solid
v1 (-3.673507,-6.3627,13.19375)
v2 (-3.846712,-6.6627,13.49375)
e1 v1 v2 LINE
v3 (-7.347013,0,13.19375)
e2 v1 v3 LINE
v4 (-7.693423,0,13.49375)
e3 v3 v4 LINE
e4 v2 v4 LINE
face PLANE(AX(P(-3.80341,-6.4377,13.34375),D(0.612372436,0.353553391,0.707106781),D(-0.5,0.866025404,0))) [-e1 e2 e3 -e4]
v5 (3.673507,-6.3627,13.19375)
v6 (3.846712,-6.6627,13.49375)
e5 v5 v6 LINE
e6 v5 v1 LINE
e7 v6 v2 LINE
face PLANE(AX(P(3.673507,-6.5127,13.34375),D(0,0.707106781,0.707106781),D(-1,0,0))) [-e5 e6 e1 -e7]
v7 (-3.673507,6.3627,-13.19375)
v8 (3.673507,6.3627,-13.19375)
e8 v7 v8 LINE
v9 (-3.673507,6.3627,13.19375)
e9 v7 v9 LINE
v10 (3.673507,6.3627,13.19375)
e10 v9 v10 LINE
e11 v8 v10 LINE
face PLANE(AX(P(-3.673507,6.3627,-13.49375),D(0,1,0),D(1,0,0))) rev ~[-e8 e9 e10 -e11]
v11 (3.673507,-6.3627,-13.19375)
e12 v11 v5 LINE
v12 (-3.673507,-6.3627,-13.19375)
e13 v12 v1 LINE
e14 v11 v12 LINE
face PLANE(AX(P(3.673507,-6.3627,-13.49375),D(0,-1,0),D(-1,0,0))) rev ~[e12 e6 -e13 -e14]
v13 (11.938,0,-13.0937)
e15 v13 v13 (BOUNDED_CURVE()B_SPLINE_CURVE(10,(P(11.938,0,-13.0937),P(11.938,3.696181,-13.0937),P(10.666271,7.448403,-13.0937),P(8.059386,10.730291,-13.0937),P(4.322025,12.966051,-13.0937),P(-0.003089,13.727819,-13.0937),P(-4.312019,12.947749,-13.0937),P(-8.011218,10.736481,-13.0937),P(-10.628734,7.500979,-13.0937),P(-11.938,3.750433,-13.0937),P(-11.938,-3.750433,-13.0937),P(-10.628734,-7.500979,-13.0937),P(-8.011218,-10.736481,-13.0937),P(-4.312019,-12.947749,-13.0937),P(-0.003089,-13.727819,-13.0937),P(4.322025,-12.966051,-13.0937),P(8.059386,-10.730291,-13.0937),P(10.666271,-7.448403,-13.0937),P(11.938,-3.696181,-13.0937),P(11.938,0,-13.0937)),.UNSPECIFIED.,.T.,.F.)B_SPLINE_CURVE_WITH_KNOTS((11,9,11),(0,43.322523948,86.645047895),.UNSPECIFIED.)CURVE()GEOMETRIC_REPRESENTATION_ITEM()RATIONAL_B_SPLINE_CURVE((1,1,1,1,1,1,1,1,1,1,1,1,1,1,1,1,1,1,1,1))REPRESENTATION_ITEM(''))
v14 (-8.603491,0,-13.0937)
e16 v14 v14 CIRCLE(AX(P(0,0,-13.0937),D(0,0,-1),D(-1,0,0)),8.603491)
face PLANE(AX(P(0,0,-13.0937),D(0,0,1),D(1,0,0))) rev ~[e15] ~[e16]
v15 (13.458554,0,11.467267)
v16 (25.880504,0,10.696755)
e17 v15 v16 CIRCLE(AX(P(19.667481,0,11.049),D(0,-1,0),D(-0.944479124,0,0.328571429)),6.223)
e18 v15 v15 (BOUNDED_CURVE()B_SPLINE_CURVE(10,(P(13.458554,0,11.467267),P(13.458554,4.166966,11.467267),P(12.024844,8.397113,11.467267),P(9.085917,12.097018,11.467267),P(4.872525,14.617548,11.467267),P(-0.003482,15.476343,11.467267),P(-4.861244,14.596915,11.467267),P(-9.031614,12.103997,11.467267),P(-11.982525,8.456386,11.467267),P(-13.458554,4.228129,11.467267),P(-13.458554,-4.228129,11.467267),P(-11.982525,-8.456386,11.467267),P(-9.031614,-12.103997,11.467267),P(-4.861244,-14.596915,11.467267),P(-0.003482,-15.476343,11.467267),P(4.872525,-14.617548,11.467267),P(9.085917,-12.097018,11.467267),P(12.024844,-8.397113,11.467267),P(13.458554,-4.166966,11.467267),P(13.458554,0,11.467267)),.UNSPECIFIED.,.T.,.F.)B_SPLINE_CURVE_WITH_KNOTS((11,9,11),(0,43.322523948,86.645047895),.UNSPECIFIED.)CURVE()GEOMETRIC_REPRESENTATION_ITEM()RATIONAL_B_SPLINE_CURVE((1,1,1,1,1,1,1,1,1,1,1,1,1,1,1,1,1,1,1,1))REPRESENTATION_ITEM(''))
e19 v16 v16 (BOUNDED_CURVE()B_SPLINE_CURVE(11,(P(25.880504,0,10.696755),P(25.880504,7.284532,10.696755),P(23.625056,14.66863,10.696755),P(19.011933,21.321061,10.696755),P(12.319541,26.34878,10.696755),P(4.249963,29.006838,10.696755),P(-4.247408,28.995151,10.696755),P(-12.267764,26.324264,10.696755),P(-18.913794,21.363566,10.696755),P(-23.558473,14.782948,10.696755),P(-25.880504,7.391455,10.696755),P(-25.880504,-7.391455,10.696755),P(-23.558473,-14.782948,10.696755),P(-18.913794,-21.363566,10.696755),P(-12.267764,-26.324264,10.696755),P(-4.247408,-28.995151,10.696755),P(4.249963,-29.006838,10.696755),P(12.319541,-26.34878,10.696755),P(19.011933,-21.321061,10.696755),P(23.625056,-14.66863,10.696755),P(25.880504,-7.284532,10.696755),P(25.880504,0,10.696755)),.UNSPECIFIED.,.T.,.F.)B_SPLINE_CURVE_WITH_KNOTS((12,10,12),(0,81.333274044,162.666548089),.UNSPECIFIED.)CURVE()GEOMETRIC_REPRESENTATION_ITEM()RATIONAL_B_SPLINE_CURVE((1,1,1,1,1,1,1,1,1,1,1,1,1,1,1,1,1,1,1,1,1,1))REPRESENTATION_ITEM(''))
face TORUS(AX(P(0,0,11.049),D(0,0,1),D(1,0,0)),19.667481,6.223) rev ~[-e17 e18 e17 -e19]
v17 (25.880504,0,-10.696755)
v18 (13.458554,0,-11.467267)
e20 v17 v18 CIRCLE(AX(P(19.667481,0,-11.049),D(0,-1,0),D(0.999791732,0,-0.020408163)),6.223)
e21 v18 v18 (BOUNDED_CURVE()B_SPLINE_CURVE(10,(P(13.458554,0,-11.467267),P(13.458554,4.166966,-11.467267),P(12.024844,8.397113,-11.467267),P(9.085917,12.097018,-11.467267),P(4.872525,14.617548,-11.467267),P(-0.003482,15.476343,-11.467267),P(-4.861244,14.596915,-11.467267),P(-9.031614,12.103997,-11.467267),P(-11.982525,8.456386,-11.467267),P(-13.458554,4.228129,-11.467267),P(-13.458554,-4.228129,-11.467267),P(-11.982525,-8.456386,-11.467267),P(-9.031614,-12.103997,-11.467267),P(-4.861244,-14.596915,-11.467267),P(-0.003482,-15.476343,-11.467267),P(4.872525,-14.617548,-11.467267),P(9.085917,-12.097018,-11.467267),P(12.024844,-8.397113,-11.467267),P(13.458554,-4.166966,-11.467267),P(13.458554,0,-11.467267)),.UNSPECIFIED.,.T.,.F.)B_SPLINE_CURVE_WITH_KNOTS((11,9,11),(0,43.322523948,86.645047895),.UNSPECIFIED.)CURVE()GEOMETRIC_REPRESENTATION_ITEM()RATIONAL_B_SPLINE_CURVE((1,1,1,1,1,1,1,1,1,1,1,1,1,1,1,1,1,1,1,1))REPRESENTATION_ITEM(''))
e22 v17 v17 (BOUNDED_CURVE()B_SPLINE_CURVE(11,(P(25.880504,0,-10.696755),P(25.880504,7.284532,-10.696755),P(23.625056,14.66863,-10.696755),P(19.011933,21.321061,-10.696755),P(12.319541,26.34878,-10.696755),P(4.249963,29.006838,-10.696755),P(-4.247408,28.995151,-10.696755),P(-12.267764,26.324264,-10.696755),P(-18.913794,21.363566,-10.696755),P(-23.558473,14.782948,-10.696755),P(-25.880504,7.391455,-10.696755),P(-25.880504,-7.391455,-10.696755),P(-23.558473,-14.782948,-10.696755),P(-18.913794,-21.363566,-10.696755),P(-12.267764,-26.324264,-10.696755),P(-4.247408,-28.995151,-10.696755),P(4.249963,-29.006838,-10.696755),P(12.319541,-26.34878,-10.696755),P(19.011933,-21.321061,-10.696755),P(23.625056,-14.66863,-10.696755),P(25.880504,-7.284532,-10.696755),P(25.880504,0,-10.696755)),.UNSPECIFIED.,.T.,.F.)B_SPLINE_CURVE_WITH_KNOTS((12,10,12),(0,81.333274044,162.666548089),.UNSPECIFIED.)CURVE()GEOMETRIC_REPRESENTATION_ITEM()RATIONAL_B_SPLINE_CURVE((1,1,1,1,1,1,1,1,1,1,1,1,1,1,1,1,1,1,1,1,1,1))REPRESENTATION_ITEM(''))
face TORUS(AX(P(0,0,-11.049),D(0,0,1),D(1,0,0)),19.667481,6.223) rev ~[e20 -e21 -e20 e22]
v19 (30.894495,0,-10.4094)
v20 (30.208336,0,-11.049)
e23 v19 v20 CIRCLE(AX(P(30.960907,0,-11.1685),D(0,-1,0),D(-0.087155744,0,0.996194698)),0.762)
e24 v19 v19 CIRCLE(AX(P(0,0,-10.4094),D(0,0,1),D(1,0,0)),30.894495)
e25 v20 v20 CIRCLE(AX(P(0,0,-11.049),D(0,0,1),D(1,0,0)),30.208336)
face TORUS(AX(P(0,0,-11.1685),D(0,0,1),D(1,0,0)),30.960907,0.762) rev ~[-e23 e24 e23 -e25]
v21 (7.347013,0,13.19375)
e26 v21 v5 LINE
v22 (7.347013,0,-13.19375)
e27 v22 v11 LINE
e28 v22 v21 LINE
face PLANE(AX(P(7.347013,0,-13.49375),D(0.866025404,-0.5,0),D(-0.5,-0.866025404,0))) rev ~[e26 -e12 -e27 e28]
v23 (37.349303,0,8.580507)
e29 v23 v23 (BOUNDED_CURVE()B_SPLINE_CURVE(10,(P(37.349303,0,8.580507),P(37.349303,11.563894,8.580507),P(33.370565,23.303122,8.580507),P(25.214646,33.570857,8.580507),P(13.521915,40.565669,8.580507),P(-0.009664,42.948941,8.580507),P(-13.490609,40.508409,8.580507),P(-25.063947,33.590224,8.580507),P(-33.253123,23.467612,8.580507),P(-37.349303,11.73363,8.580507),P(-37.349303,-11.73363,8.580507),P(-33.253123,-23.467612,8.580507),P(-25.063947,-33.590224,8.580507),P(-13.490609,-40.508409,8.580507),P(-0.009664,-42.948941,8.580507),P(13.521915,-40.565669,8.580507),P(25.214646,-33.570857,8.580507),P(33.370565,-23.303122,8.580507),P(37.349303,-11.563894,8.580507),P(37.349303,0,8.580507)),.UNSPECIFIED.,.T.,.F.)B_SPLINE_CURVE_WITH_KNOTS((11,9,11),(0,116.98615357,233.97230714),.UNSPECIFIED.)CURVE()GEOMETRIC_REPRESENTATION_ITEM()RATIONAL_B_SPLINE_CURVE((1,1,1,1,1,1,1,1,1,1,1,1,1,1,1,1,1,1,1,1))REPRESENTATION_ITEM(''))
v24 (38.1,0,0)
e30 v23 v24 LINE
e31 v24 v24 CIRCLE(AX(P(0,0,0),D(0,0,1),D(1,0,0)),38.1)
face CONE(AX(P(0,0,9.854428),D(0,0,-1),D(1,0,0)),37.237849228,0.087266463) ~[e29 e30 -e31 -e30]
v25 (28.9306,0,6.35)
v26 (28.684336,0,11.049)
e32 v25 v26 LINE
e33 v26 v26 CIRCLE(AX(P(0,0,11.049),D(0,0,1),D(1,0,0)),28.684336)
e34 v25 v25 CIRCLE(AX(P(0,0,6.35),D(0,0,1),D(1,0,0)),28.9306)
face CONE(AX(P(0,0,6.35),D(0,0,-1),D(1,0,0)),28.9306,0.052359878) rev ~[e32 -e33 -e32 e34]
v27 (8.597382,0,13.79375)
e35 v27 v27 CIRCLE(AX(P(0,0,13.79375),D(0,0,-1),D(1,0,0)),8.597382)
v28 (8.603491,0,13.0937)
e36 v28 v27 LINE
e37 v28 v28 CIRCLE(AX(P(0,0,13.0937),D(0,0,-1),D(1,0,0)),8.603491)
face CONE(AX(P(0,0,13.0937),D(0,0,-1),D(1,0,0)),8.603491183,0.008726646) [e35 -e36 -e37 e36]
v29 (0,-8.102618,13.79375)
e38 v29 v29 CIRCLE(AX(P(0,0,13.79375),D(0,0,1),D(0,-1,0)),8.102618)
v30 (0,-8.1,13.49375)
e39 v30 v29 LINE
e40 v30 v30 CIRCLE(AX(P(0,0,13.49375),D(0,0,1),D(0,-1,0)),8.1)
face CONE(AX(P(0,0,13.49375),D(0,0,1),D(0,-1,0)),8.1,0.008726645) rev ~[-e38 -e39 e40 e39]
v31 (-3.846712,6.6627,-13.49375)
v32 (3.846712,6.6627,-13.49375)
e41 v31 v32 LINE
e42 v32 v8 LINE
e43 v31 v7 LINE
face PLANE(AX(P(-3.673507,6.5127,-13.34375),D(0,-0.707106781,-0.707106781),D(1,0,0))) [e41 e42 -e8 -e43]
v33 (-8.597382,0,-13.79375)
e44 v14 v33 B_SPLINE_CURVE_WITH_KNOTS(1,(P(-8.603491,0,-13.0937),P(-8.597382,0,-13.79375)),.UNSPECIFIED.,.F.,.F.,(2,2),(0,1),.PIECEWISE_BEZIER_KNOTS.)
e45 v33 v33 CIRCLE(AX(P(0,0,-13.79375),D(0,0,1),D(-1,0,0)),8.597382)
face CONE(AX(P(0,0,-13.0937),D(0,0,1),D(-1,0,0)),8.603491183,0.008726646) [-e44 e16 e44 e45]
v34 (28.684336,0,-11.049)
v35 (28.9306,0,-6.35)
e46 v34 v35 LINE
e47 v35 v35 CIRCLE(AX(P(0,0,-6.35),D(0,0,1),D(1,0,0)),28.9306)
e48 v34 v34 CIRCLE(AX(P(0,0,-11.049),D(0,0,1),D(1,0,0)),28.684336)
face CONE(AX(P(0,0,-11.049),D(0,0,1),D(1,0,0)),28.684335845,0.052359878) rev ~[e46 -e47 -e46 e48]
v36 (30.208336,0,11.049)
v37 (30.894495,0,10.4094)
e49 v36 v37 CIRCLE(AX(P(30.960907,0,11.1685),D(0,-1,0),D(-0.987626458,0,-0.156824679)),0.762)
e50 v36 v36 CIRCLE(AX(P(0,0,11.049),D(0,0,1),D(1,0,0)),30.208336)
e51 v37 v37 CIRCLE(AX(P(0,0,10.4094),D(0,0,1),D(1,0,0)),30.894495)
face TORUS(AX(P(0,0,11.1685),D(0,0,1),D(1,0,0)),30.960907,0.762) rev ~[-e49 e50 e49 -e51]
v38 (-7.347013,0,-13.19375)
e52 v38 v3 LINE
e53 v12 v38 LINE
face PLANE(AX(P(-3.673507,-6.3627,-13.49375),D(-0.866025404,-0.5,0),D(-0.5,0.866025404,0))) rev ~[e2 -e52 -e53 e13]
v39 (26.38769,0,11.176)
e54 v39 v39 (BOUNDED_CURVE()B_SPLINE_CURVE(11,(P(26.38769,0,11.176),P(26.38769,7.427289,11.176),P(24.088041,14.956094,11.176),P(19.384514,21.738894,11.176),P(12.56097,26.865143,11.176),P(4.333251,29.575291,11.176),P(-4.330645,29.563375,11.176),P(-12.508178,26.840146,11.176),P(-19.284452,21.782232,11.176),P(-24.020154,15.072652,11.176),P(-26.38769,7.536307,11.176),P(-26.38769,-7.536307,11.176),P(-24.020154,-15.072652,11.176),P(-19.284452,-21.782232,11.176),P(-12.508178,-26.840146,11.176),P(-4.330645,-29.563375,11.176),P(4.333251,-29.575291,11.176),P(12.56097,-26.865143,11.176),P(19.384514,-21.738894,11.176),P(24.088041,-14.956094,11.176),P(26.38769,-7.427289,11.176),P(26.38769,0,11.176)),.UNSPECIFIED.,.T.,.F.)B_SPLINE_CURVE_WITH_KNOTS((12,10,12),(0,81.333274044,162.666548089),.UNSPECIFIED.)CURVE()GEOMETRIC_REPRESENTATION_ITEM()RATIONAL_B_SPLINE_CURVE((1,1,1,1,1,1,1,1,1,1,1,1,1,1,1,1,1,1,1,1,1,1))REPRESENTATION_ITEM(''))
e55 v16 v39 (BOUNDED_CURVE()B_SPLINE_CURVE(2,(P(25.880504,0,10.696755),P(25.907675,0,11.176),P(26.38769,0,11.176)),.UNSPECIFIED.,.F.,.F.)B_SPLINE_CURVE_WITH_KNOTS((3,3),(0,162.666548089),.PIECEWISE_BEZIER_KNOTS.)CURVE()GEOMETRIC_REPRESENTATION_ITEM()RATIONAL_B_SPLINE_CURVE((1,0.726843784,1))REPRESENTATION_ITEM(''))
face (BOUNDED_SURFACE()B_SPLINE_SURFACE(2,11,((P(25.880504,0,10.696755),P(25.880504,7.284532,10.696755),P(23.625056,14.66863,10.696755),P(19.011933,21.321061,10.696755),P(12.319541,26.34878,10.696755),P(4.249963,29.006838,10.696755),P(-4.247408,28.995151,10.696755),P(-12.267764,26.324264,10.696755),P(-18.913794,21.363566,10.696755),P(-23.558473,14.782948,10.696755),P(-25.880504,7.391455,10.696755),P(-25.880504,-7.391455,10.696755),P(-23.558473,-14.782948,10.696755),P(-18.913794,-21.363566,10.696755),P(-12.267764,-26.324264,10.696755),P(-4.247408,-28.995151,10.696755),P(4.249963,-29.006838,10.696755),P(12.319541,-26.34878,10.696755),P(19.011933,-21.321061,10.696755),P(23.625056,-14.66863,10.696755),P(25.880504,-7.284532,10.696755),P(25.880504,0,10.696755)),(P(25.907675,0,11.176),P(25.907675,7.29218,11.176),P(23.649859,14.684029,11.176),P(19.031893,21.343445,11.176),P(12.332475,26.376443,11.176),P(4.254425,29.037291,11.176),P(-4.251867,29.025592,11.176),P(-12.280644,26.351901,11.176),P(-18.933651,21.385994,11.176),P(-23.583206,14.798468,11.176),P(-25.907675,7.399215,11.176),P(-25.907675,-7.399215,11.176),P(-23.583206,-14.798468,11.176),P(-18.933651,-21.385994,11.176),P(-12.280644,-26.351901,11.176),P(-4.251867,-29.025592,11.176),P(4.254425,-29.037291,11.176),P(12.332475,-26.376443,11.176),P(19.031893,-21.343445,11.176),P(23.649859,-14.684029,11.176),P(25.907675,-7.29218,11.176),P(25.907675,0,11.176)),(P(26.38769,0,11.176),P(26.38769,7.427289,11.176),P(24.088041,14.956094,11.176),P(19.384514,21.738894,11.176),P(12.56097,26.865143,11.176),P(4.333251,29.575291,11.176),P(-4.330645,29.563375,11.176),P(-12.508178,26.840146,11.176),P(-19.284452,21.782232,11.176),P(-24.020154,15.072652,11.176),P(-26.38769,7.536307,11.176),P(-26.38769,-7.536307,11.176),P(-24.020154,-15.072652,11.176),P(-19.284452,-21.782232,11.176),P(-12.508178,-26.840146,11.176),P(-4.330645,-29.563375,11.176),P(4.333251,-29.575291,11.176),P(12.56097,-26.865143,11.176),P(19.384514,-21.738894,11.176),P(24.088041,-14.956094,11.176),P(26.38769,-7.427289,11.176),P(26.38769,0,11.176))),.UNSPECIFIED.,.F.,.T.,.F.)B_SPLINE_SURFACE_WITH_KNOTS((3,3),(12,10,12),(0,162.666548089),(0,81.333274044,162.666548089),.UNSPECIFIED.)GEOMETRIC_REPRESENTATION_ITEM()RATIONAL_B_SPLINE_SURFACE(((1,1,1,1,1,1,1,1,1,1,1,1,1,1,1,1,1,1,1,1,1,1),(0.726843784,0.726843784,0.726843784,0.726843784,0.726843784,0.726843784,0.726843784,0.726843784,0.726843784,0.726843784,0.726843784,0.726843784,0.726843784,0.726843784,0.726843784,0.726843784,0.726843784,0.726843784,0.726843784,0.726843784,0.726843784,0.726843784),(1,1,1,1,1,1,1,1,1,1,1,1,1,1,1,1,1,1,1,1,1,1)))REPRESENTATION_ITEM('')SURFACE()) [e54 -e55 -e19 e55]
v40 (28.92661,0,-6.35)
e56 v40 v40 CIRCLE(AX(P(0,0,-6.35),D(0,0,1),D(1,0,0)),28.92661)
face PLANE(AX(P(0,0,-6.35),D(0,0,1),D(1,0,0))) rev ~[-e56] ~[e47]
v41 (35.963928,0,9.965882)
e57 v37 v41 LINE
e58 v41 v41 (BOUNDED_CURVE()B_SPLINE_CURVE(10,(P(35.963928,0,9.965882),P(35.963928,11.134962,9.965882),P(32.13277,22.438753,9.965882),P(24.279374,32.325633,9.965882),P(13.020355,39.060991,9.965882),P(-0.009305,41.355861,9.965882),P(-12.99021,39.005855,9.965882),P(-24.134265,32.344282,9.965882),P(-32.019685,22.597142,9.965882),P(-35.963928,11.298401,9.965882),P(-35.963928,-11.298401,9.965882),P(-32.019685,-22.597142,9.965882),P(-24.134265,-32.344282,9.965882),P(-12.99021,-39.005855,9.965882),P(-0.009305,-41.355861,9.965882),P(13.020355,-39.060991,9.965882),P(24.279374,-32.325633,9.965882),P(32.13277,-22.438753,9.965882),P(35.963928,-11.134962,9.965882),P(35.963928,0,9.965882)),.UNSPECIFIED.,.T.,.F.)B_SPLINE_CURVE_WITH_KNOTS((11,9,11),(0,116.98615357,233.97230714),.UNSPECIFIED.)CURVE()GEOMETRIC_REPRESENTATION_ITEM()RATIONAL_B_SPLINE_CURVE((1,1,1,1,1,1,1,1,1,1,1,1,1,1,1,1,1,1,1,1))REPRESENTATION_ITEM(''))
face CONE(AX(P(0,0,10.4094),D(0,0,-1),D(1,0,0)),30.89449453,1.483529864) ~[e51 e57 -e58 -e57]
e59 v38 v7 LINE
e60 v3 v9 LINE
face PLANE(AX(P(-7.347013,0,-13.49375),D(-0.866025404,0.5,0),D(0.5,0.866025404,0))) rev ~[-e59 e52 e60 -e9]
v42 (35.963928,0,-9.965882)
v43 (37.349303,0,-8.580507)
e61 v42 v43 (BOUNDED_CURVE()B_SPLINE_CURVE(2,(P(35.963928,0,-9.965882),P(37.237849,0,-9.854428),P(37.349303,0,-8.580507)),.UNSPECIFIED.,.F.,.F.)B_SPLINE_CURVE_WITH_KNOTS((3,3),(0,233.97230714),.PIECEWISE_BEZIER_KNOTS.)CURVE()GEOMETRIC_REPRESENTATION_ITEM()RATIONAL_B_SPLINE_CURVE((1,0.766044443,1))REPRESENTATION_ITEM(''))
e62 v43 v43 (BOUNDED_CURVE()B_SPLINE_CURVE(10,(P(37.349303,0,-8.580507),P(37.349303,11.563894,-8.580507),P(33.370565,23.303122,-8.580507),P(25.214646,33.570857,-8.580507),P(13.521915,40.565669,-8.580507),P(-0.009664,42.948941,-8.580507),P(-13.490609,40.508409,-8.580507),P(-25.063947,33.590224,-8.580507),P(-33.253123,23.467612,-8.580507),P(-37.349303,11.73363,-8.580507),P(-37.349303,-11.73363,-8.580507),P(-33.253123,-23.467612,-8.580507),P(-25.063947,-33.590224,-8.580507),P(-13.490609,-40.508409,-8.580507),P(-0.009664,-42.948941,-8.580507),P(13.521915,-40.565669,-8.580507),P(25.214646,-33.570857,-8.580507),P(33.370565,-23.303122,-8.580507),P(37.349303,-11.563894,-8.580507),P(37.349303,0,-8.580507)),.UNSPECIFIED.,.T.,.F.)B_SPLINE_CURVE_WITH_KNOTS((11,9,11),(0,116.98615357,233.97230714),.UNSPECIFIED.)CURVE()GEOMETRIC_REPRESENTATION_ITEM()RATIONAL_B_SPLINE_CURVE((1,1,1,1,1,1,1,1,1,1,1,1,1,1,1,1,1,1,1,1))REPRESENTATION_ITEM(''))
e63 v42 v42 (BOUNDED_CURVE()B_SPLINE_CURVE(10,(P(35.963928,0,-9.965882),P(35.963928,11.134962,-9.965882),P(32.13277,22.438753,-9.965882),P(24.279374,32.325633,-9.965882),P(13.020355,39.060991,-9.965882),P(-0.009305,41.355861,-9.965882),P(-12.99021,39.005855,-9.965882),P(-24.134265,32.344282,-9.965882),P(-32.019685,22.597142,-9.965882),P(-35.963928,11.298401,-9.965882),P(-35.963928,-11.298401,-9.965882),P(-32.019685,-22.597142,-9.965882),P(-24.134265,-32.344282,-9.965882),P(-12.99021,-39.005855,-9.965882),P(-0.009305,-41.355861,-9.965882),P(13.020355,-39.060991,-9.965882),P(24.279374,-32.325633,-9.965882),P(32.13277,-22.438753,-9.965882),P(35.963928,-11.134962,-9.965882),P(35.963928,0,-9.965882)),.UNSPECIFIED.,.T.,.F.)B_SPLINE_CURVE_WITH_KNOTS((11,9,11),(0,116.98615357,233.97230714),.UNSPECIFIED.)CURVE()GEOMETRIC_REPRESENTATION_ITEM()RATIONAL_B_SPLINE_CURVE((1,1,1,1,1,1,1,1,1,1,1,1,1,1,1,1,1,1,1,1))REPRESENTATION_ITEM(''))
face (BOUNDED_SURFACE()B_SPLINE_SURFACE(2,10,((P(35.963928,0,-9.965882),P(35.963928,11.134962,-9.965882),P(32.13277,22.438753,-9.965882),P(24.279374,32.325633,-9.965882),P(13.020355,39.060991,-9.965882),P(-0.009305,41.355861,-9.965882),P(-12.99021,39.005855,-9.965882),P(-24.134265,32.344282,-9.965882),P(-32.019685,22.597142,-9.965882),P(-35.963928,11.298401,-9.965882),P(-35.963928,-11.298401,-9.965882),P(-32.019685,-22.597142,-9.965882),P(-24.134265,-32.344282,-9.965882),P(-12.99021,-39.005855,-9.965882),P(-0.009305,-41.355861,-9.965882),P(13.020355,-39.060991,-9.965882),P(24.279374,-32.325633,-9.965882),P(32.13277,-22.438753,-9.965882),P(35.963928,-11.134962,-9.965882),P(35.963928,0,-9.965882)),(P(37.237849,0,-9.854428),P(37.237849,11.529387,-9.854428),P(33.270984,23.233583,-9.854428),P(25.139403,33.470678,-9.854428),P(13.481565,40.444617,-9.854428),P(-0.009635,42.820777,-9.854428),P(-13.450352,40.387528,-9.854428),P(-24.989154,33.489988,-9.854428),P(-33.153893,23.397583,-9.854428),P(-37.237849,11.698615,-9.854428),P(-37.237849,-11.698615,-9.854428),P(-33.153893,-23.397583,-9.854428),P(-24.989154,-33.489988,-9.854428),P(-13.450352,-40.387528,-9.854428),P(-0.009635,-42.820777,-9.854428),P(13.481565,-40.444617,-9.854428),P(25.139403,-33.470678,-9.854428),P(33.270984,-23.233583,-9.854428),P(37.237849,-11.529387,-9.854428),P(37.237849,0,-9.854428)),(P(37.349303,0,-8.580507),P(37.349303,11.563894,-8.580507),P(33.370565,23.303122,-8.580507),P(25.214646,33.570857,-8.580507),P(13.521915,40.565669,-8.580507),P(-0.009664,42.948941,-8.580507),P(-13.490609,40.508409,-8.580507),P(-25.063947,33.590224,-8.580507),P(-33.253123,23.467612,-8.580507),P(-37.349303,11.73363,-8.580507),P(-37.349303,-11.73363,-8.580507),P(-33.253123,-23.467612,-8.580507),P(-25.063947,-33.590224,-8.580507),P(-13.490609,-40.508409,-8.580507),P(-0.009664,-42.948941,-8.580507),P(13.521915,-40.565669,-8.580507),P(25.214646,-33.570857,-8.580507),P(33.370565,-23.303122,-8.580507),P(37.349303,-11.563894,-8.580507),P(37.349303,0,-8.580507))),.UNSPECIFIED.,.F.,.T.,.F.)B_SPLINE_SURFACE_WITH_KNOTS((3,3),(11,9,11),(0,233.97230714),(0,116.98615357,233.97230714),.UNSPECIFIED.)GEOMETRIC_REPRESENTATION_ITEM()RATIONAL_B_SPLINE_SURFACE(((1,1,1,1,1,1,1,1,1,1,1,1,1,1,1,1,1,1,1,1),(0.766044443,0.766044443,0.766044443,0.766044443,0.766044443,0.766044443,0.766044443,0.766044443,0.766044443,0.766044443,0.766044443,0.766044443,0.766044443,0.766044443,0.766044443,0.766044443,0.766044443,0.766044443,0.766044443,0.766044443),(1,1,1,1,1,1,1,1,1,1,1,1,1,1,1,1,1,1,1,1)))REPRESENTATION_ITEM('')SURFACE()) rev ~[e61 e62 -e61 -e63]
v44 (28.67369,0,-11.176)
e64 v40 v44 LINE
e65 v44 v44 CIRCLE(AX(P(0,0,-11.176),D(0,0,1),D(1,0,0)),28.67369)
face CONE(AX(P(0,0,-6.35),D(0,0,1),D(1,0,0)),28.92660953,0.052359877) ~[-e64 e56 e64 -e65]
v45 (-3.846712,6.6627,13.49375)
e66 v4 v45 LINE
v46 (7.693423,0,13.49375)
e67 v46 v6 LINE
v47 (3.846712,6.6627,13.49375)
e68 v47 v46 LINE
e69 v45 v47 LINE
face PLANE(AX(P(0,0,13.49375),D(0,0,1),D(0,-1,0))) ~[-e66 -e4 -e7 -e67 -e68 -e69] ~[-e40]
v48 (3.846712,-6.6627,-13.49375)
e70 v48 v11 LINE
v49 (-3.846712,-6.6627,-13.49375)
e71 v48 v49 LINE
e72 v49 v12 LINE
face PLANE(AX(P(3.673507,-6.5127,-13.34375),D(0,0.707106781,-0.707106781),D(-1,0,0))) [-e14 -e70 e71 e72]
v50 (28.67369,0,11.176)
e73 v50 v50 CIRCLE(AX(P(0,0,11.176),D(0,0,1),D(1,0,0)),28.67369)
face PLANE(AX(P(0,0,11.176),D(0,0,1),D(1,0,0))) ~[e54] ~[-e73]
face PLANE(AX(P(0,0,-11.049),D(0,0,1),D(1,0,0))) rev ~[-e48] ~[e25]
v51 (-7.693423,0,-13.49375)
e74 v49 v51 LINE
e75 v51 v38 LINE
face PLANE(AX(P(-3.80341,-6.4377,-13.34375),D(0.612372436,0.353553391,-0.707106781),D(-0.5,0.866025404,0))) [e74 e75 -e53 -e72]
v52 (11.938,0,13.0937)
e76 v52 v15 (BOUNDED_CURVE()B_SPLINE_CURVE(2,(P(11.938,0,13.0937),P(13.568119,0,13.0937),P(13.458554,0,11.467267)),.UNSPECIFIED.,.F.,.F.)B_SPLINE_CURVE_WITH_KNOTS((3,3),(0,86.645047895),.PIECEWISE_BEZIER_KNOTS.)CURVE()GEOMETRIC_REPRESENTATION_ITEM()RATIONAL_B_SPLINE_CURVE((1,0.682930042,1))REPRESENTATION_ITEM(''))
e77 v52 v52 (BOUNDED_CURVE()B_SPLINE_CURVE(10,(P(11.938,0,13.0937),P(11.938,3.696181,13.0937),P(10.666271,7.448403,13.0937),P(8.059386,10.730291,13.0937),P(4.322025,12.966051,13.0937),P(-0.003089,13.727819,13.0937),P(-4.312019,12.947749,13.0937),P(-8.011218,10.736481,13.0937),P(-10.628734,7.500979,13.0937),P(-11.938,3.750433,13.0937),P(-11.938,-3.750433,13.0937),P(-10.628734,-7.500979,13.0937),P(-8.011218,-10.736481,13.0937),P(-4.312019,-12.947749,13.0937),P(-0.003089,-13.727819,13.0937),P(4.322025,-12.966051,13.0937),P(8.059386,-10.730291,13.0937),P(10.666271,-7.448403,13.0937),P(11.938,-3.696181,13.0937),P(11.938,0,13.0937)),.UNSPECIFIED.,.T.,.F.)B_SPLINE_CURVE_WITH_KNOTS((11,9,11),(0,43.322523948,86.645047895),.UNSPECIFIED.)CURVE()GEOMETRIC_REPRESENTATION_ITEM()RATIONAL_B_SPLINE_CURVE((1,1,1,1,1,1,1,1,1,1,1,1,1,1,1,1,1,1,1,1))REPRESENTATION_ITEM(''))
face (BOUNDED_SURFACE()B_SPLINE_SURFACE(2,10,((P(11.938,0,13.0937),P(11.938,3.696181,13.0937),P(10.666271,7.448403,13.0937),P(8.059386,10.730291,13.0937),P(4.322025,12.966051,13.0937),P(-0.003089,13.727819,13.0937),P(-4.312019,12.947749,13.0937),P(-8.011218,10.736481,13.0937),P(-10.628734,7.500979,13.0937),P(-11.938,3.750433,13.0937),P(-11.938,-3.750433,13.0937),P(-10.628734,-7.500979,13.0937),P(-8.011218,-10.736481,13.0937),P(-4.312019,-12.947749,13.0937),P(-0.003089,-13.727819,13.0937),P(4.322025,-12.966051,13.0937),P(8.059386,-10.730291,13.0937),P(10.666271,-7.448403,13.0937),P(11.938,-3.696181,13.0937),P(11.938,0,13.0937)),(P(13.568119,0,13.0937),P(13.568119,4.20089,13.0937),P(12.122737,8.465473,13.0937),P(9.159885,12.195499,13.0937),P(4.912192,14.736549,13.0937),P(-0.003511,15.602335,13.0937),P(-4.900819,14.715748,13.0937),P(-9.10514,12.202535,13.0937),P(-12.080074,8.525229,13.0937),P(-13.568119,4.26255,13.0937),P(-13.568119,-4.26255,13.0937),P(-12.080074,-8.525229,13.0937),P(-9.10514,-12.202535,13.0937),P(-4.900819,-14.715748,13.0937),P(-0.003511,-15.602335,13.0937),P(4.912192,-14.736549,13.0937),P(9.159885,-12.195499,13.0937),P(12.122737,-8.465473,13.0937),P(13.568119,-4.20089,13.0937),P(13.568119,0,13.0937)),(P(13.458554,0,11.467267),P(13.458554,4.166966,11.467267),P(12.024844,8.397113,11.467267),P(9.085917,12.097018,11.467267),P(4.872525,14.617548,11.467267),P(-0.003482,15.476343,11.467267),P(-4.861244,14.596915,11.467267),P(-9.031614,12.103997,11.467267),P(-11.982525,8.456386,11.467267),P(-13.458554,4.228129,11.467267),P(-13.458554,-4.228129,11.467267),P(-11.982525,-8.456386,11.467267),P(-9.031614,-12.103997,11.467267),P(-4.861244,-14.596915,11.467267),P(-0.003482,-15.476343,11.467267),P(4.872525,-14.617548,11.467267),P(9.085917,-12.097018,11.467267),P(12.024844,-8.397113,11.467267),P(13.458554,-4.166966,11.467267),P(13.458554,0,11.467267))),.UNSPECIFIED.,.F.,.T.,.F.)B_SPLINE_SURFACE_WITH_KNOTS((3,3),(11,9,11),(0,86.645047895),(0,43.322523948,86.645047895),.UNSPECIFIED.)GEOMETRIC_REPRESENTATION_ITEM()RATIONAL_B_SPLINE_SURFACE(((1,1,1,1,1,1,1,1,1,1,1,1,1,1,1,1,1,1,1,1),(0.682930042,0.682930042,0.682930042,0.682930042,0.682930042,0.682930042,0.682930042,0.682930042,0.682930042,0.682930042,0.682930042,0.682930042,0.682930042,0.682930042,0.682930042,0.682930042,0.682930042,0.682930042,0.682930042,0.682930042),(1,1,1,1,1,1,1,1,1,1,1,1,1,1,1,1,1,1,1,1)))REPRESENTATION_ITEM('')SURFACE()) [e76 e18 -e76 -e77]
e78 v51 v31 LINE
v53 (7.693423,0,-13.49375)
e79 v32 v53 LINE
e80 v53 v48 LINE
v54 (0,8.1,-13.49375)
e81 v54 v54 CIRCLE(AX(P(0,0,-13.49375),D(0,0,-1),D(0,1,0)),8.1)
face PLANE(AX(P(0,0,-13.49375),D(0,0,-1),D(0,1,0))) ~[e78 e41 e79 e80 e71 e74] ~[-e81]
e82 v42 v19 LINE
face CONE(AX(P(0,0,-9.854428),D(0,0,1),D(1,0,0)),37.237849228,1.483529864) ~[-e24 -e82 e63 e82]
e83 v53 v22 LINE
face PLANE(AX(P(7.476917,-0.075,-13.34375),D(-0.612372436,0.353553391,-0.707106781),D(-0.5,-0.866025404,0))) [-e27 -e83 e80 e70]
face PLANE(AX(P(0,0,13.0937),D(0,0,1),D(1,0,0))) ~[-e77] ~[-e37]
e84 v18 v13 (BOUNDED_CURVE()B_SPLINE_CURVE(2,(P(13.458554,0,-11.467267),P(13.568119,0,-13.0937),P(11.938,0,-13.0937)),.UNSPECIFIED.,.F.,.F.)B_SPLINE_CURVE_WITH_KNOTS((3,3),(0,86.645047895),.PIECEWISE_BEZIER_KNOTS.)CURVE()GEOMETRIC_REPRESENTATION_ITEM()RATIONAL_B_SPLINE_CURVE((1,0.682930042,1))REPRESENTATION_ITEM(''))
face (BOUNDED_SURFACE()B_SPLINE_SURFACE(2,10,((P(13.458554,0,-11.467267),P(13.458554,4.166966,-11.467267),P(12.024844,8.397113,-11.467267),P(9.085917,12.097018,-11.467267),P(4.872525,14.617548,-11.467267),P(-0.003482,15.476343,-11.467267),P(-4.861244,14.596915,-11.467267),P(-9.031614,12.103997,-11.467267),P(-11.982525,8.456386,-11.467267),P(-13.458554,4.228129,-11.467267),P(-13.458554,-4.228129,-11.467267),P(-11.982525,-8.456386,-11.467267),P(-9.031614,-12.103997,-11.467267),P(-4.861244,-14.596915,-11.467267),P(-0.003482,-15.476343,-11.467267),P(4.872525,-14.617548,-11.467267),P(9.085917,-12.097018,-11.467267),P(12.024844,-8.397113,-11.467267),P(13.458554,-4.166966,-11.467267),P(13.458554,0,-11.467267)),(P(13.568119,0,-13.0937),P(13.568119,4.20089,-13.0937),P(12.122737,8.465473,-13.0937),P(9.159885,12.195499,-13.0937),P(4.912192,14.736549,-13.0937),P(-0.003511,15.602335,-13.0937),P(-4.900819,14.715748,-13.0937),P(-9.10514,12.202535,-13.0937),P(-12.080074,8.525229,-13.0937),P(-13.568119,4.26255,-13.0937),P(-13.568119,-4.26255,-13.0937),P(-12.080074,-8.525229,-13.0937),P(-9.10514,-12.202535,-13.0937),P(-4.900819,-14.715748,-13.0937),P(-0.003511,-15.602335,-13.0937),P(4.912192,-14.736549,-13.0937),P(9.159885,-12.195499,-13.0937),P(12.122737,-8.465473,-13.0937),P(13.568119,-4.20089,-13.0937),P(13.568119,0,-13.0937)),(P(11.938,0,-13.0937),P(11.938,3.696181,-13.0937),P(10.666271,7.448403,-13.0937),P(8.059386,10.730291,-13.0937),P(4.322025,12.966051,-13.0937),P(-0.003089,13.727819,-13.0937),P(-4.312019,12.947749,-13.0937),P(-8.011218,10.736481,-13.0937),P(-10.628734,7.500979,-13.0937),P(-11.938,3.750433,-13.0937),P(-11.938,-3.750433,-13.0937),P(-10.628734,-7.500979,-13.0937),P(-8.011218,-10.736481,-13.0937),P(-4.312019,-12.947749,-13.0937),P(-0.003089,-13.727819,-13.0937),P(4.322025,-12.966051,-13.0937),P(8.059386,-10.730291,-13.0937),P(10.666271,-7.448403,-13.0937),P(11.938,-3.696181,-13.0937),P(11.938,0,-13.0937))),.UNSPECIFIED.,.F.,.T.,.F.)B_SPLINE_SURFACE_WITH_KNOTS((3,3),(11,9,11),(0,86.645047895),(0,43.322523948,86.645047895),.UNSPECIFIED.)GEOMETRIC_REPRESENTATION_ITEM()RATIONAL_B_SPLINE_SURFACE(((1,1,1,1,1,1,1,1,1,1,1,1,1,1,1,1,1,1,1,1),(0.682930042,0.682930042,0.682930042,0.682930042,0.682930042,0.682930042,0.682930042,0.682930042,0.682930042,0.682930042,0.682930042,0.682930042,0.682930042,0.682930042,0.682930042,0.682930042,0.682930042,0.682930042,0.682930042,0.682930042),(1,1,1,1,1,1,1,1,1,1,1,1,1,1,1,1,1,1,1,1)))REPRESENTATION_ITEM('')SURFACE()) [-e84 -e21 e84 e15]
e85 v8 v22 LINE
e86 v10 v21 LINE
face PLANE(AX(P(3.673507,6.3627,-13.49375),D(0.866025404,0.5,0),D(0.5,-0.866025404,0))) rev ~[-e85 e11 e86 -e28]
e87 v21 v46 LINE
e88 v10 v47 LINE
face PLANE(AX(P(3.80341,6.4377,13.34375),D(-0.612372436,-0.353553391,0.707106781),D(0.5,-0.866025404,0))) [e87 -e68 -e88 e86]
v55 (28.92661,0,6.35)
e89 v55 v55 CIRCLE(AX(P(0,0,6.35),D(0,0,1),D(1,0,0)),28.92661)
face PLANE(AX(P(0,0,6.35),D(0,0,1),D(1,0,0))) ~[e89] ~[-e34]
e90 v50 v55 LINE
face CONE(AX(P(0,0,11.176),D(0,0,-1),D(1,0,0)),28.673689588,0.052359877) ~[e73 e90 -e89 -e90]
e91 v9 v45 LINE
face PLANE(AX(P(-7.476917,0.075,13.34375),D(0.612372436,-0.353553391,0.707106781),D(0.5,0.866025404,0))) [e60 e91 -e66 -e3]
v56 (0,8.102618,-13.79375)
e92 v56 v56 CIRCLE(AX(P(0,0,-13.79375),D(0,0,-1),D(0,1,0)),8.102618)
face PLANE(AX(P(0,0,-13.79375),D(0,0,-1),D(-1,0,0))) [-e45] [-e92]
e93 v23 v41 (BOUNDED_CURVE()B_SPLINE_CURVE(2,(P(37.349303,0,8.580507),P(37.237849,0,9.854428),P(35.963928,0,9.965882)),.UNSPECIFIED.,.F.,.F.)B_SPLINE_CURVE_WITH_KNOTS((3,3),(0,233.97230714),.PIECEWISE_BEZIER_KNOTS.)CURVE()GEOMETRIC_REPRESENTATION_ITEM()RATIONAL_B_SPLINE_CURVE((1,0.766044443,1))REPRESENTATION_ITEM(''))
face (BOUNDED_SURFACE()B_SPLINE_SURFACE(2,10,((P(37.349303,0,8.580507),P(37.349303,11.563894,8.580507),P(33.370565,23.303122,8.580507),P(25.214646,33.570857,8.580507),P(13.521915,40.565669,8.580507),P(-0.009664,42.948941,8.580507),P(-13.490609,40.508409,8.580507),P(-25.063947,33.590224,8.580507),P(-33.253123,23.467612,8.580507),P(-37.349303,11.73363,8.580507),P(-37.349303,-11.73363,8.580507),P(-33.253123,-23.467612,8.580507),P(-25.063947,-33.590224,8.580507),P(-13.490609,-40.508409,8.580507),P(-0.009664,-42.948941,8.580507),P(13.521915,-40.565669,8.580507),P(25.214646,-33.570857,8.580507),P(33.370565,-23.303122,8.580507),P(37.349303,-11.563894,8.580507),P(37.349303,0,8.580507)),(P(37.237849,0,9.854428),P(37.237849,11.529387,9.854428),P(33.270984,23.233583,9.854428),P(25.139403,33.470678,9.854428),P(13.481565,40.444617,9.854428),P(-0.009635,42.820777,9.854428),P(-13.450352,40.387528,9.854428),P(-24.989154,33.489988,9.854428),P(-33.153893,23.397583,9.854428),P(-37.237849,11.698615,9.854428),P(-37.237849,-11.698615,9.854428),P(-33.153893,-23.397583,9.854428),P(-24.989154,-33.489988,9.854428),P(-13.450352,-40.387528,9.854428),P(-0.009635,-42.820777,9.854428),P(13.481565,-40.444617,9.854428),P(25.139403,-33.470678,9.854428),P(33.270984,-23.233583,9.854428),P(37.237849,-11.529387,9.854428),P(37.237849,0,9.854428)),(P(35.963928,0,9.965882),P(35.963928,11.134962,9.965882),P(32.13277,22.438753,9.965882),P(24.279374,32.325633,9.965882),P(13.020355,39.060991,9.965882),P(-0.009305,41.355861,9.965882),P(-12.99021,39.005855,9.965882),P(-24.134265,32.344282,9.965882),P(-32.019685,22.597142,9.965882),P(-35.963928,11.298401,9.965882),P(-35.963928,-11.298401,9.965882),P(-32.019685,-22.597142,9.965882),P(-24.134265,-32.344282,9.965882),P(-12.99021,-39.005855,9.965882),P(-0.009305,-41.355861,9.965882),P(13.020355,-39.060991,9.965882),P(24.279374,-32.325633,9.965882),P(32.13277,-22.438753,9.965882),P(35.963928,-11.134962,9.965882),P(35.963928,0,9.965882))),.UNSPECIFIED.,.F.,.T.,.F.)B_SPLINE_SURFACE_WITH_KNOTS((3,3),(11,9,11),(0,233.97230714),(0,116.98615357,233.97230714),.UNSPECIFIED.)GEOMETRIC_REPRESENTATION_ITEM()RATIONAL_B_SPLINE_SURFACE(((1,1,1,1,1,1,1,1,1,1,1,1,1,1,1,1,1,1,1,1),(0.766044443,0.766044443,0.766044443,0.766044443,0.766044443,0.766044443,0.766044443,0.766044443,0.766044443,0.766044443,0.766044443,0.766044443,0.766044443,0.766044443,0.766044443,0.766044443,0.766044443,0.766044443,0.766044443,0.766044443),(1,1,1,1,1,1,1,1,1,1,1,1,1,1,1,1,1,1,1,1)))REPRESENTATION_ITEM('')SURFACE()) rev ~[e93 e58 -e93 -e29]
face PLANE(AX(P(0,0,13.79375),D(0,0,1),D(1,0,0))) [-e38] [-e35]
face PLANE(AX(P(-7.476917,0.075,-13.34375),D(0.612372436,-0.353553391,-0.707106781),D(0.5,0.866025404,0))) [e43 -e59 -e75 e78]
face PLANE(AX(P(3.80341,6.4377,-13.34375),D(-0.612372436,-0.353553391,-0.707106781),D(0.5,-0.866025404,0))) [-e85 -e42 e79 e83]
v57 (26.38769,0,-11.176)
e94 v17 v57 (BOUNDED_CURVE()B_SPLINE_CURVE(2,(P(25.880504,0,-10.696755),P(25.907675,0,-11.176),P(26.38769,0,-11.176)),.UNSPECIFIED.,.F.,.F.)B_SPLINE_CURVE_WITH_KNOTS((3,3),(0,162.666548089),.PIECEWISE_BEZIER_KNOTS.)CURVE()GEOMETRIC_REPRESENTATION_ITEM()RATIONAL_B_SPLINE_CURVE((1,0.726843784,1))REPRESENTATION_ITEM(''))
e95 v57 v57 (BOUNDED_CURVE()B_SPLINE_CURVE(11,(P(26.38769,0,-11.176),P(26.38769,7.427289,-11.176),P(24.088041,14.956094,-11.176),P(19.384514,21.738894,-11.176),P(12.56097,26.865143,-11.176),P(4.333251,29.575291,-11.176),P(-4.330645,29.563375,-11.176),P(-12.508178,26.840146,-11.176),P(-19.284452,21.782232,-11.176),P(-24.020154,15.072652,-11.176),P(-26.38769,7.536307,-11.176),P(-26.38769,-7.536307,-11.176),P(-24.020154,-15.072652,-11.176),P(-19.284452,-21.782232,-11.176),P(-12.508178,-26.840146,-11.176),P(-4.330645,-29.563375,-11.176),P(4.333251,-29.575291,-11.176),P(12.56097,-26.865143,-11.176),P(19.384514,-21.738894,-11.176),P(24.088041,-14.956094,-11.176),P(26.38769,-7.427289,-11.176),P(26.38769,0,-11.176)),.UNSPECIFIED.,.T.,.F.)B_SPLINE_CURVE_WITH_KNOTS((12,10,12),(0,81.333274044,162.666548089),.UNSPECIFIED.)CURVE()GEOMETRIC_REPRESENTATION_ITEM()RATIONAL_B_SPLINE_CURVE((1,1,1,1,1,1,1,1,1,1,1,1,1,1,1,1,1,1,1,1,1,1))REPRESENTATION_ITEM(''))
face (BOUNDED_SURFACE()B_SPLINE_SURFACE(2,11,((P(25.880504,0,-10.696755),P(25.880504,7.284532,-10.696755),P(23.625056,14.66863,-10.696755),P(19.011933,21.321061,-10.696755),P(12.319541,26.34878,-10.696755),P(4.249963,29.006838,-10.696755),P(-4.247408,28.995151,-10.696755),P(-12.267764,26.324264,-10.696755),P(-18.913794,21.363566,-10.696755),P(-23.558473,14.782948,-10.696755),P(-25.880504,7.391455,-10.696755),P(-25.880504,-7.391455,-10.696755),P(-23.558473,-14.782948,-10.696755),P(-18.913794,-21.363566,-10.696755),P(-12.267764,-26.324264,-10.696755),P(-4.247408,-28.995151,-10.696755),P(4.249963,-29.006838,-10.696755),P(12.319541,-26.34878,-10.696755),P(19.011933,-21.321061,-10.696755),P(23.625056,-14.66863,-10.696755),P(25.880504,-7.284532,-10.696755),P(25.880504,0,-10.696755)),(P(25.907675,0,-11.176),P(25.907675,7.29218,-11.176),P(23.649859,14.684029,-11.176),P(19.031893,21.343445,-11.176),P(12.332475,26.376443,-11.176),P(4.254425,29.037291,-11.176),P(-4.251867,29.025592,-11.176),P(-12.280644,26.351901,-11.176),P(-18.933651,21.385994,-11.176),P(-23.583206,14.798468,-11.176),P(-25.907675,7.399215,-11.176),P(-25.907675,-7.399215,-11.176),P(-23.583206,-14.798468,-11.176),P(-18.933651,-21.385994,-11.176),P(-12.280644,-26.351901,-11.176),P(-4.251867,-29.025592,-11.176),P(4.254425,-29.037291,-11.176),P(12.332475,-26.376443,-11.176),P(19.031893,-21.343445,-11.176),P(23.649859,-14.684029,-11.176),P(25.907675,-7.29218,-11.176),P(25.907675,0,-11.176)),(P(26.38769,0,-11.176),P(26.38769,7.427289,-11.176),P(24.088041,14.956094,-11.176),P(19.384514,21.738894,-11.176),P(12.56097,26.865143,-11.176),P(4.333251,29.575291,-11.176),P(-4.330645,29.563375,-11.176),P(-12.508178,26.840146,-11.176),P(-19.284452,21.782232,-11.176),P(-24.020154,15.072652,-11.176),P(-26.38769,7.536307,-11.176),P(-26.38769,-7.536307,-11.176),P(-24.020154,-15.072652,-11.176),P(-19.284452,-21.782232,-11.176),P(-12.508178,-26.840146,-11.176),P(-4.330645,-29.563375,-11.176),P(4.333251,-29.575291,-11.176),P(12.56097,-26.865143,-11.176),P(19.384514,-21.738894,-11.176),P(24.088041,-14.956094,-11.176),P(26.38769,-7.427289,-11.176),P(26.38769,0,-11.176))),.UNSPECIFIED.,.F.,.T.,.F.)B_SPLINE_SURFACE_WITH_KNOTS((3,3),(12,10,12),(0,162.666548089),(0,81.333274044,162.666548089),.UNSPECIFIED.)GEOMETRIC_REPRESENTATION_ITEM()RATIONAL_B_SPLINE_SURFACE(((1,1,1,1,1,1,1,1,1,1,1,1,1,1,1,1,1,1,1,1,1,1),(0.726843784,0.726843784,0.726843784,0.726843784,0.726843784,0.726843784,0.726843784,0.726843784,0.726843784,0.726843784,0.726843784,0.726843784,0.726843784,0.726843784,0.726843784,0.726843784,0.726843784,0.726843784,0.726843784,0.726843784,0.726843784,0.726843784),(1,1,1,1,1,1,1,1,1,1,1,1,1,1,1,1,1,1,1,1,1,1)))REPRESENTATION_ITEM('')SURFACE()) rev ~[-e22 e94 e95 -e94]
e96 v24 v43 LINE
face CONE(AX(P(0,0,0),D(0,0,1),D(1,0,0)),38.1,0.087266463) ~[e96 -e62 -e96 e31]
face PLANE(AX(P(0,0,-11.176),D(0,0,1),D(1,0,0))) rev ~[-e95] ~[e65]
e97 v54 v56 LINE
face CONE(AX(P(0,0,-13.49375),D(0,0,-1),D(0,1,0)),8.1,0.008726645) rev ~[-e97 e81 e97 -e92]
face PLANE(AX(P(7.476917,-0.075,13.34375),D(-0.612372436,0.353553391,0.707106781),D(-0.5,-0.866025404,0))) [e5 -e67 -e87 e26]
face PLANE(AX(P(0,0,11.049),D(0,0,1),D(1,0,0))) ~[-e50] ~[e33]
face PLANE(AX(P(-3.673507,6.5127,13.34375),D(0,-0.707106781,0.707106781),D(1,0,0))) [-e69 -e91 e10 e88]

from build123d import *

# Parameters (mm, degrees)
SKETCH2_R           = 8.603491183
BOSS_EXTRUDE1_DEPTH = 0.70005
BOSS_EXTRUDE1_TAPER = 0.5
SKETCH3_R           = 8.603491183
BOSS_EXTRUDE2_DEPTH = 0.70005
BOSS_EXTRUDE2_TAPER = 0.5
CUT_EXTRUDE1_DEPTH  = 61.397248747
CHAMFER1_SIZE       = 0.3
FILLET1_R           = 0.508
FILLET2_R           = 1.524


with BuildPart() as part:
    # Sketch1 → Revolve1 (revolve)
    with BuildSketch(Plane(origin=(0, 0, 0), x_dir=(1, 0, 0), z_dir=(0, 1, 0))):
        with BuildLine():
            Line((13.789987667, 13.0937), (0, 13.0937))
            Line((0, 13.0937), (0, -13.0937))
            Line((0, -13.0937), (13.789987667, -13.0937))
            ThreePointArc((13.789987667, -13.0937), (18.693308011, -4.902723445), (25.889185204, -11.176))
            Line((25.889185204, -11.176), (28.673689588, -11.176))
            Line((28.673689588, -11.176), (28.92660953, -6.35))
            Line((28.92660953, -6.35), (28.9306, -6.35))
            Line((28.9306, -6.35), (28.684335845, -11.049))
            Line((28.684335845, -11.049), (30.208335845, -11.049))
            ThreePointArc((30.208335845, -11.049), (30.441334556, -10.611106234), (30.89449453, -10.409400044))
            Line((30.89449453, -10.409400044), (37.237849228, -9.854428419))
            Line((37.237849228, -9.854428419), (38.1, 0))
            Line((38.1, 0), (37.237849228, 9.854428419))
            Line((37.237849228, 9.854428419), (30.89449453, 10.409400044))
            ThreePointArc((30.89449453, 10.409400044), (30.441334556, 10.611106234), (30.208335845, 11.049))
            Line((30.208335845, 11.049), (28.684335845, 11.049))
            Line((28.684335845, 11.049), (28.9306, 6.35))
            Line((28.9306, 6.35), (28.92660953, 6.35))
            Line((28.92660953, 6.35), (28.673689588, 11.176))
            Line((28.673689588, 11.176), (25.889185204, 11.176))
            ThreePointArc((25.889185204, 11.176), (18.693308011, 4.902723445), (13.789987667, 13.0937))
        make_face()
    revolve(axis=Axis((0, 0, -13.0937), (0, 0, 1)))

    # Sketch2 → Boss-Extrude1 (add)
    with BuildSketch(Plane.XY.offset(13.0937)):
        Circle(SKETCH2_R)
    extrude(amount=BOSS_EXTRUDE1_DEPTH, taper=BOSS_EXTRUDE1_TAPER)

    # Sketch3 → Boss-Extrude2 (add)
    with BuildSketch(Plane(origin=(0, 0, -13.0937), x_dir=(-1, 0, 0), z_dir=(0, 0, -1))):
        Circle(SKETCH3_R)
    extrude(amount=BOSS_EXTRUDE2_DEPTH, taper=BOSS_EXTRUDE2_TAPER)

    # Sketch4 → Hole1 (revolve, cut)
    with BuildSketch(Plane(origin=(0, 0, 13.79375), x_dir=(0, -1, 0), z_dir=(1, 0, 0))):
        Polygon((0, 0), (0, 0.3), (8.1, 0.3), (8.10261806, 0), align=None)
    revolve(axis=Axis((0, 0, -96.20625), (0, 0, 1)), mode=Mode.SUBTRACT)

    # Sketch6 → Hole2 (revolve, cut)
    with BuildSketch(Plane(origin=(0, 0, -13.79375), x_dir=(0, 1, 0), z_dir=(1, 0, 0))):
        Polygon((0, 0), (0, 0.3), (8.1, 0.3), (8.10261806, 0), align=None)
    revolve(axis=Axis((0, 0, 96.20625), (0, 0, -1)), mode=Mode.SUBTRACT)

    # Sketch8 → Cut-Extrude1 (cut, through all)
    with BuildSketch(Plane(origin=(0, 0, -13.49375), x_dir=(-1, 0, 0), z_dir=(0, 0, -1))):
        Polygon((-7.347013116, 0), (-3.673506558, -6.3627), (3.673506558, -6.3627), (7.347013116, 0), (3.673506558, 6.3627), (-3.673506558, 6.3627), align=None)
    extrude(amount=-CUT_EXTRUDE1_DEPTH, mode=Mode.SUBTRACT)

    # Chamfer1
    chamfer1_edges = [part.edges().sort_by_distance(p)[0] for p in [
        (5.510259837, 3.18135, 13.49375),
        (0, 6.3627, 13.49375),
        (-5.510259837, 3.18135, 13.49375),
        (-5.510259837, -3.18135, 13.49375),
        (0, -6.3627, 13.49375),
        (5.510259837, -3.18135, 13.49375),
        (5.510259837, 3.18135, -13.49375),
        (5.510259837, -3.18135, -13.49375),
        (0, -6.3627, -13.49375),
        (-5.510259837, -3.18135, -13.49375),
        (-5.510259837, 3.18135, -13.49375),
        (0, 6.3627, -13.49375),
    ]]
    chamfer(chamfer1_edges, length=CHAMFER1_SIZE)

    # Fillet1
    fillet1_edges = [part.edges().sort_by_distance(p)[0] for p in [
        (-25.889185204, 0, 11.176),
        (-25.889185204, 0, -11.176),
    ]]
    fillet(fillet1_edges, radius=FILLET1_R)

    # Fillet2
    fillet2_edges = [part.edges().sort_by_distance(p)[0] for p in [
        (-13.789987667, 0, -13.0937),
        (-13.789987667, 0, 13.0937),
        (-37.237849228, 0, 9.854428419),
        (-37.237849228, 0, -9.854428419),
    ]]
    fillet(fillet2_edges, radius=FILLET2_R)


solid = part.part
